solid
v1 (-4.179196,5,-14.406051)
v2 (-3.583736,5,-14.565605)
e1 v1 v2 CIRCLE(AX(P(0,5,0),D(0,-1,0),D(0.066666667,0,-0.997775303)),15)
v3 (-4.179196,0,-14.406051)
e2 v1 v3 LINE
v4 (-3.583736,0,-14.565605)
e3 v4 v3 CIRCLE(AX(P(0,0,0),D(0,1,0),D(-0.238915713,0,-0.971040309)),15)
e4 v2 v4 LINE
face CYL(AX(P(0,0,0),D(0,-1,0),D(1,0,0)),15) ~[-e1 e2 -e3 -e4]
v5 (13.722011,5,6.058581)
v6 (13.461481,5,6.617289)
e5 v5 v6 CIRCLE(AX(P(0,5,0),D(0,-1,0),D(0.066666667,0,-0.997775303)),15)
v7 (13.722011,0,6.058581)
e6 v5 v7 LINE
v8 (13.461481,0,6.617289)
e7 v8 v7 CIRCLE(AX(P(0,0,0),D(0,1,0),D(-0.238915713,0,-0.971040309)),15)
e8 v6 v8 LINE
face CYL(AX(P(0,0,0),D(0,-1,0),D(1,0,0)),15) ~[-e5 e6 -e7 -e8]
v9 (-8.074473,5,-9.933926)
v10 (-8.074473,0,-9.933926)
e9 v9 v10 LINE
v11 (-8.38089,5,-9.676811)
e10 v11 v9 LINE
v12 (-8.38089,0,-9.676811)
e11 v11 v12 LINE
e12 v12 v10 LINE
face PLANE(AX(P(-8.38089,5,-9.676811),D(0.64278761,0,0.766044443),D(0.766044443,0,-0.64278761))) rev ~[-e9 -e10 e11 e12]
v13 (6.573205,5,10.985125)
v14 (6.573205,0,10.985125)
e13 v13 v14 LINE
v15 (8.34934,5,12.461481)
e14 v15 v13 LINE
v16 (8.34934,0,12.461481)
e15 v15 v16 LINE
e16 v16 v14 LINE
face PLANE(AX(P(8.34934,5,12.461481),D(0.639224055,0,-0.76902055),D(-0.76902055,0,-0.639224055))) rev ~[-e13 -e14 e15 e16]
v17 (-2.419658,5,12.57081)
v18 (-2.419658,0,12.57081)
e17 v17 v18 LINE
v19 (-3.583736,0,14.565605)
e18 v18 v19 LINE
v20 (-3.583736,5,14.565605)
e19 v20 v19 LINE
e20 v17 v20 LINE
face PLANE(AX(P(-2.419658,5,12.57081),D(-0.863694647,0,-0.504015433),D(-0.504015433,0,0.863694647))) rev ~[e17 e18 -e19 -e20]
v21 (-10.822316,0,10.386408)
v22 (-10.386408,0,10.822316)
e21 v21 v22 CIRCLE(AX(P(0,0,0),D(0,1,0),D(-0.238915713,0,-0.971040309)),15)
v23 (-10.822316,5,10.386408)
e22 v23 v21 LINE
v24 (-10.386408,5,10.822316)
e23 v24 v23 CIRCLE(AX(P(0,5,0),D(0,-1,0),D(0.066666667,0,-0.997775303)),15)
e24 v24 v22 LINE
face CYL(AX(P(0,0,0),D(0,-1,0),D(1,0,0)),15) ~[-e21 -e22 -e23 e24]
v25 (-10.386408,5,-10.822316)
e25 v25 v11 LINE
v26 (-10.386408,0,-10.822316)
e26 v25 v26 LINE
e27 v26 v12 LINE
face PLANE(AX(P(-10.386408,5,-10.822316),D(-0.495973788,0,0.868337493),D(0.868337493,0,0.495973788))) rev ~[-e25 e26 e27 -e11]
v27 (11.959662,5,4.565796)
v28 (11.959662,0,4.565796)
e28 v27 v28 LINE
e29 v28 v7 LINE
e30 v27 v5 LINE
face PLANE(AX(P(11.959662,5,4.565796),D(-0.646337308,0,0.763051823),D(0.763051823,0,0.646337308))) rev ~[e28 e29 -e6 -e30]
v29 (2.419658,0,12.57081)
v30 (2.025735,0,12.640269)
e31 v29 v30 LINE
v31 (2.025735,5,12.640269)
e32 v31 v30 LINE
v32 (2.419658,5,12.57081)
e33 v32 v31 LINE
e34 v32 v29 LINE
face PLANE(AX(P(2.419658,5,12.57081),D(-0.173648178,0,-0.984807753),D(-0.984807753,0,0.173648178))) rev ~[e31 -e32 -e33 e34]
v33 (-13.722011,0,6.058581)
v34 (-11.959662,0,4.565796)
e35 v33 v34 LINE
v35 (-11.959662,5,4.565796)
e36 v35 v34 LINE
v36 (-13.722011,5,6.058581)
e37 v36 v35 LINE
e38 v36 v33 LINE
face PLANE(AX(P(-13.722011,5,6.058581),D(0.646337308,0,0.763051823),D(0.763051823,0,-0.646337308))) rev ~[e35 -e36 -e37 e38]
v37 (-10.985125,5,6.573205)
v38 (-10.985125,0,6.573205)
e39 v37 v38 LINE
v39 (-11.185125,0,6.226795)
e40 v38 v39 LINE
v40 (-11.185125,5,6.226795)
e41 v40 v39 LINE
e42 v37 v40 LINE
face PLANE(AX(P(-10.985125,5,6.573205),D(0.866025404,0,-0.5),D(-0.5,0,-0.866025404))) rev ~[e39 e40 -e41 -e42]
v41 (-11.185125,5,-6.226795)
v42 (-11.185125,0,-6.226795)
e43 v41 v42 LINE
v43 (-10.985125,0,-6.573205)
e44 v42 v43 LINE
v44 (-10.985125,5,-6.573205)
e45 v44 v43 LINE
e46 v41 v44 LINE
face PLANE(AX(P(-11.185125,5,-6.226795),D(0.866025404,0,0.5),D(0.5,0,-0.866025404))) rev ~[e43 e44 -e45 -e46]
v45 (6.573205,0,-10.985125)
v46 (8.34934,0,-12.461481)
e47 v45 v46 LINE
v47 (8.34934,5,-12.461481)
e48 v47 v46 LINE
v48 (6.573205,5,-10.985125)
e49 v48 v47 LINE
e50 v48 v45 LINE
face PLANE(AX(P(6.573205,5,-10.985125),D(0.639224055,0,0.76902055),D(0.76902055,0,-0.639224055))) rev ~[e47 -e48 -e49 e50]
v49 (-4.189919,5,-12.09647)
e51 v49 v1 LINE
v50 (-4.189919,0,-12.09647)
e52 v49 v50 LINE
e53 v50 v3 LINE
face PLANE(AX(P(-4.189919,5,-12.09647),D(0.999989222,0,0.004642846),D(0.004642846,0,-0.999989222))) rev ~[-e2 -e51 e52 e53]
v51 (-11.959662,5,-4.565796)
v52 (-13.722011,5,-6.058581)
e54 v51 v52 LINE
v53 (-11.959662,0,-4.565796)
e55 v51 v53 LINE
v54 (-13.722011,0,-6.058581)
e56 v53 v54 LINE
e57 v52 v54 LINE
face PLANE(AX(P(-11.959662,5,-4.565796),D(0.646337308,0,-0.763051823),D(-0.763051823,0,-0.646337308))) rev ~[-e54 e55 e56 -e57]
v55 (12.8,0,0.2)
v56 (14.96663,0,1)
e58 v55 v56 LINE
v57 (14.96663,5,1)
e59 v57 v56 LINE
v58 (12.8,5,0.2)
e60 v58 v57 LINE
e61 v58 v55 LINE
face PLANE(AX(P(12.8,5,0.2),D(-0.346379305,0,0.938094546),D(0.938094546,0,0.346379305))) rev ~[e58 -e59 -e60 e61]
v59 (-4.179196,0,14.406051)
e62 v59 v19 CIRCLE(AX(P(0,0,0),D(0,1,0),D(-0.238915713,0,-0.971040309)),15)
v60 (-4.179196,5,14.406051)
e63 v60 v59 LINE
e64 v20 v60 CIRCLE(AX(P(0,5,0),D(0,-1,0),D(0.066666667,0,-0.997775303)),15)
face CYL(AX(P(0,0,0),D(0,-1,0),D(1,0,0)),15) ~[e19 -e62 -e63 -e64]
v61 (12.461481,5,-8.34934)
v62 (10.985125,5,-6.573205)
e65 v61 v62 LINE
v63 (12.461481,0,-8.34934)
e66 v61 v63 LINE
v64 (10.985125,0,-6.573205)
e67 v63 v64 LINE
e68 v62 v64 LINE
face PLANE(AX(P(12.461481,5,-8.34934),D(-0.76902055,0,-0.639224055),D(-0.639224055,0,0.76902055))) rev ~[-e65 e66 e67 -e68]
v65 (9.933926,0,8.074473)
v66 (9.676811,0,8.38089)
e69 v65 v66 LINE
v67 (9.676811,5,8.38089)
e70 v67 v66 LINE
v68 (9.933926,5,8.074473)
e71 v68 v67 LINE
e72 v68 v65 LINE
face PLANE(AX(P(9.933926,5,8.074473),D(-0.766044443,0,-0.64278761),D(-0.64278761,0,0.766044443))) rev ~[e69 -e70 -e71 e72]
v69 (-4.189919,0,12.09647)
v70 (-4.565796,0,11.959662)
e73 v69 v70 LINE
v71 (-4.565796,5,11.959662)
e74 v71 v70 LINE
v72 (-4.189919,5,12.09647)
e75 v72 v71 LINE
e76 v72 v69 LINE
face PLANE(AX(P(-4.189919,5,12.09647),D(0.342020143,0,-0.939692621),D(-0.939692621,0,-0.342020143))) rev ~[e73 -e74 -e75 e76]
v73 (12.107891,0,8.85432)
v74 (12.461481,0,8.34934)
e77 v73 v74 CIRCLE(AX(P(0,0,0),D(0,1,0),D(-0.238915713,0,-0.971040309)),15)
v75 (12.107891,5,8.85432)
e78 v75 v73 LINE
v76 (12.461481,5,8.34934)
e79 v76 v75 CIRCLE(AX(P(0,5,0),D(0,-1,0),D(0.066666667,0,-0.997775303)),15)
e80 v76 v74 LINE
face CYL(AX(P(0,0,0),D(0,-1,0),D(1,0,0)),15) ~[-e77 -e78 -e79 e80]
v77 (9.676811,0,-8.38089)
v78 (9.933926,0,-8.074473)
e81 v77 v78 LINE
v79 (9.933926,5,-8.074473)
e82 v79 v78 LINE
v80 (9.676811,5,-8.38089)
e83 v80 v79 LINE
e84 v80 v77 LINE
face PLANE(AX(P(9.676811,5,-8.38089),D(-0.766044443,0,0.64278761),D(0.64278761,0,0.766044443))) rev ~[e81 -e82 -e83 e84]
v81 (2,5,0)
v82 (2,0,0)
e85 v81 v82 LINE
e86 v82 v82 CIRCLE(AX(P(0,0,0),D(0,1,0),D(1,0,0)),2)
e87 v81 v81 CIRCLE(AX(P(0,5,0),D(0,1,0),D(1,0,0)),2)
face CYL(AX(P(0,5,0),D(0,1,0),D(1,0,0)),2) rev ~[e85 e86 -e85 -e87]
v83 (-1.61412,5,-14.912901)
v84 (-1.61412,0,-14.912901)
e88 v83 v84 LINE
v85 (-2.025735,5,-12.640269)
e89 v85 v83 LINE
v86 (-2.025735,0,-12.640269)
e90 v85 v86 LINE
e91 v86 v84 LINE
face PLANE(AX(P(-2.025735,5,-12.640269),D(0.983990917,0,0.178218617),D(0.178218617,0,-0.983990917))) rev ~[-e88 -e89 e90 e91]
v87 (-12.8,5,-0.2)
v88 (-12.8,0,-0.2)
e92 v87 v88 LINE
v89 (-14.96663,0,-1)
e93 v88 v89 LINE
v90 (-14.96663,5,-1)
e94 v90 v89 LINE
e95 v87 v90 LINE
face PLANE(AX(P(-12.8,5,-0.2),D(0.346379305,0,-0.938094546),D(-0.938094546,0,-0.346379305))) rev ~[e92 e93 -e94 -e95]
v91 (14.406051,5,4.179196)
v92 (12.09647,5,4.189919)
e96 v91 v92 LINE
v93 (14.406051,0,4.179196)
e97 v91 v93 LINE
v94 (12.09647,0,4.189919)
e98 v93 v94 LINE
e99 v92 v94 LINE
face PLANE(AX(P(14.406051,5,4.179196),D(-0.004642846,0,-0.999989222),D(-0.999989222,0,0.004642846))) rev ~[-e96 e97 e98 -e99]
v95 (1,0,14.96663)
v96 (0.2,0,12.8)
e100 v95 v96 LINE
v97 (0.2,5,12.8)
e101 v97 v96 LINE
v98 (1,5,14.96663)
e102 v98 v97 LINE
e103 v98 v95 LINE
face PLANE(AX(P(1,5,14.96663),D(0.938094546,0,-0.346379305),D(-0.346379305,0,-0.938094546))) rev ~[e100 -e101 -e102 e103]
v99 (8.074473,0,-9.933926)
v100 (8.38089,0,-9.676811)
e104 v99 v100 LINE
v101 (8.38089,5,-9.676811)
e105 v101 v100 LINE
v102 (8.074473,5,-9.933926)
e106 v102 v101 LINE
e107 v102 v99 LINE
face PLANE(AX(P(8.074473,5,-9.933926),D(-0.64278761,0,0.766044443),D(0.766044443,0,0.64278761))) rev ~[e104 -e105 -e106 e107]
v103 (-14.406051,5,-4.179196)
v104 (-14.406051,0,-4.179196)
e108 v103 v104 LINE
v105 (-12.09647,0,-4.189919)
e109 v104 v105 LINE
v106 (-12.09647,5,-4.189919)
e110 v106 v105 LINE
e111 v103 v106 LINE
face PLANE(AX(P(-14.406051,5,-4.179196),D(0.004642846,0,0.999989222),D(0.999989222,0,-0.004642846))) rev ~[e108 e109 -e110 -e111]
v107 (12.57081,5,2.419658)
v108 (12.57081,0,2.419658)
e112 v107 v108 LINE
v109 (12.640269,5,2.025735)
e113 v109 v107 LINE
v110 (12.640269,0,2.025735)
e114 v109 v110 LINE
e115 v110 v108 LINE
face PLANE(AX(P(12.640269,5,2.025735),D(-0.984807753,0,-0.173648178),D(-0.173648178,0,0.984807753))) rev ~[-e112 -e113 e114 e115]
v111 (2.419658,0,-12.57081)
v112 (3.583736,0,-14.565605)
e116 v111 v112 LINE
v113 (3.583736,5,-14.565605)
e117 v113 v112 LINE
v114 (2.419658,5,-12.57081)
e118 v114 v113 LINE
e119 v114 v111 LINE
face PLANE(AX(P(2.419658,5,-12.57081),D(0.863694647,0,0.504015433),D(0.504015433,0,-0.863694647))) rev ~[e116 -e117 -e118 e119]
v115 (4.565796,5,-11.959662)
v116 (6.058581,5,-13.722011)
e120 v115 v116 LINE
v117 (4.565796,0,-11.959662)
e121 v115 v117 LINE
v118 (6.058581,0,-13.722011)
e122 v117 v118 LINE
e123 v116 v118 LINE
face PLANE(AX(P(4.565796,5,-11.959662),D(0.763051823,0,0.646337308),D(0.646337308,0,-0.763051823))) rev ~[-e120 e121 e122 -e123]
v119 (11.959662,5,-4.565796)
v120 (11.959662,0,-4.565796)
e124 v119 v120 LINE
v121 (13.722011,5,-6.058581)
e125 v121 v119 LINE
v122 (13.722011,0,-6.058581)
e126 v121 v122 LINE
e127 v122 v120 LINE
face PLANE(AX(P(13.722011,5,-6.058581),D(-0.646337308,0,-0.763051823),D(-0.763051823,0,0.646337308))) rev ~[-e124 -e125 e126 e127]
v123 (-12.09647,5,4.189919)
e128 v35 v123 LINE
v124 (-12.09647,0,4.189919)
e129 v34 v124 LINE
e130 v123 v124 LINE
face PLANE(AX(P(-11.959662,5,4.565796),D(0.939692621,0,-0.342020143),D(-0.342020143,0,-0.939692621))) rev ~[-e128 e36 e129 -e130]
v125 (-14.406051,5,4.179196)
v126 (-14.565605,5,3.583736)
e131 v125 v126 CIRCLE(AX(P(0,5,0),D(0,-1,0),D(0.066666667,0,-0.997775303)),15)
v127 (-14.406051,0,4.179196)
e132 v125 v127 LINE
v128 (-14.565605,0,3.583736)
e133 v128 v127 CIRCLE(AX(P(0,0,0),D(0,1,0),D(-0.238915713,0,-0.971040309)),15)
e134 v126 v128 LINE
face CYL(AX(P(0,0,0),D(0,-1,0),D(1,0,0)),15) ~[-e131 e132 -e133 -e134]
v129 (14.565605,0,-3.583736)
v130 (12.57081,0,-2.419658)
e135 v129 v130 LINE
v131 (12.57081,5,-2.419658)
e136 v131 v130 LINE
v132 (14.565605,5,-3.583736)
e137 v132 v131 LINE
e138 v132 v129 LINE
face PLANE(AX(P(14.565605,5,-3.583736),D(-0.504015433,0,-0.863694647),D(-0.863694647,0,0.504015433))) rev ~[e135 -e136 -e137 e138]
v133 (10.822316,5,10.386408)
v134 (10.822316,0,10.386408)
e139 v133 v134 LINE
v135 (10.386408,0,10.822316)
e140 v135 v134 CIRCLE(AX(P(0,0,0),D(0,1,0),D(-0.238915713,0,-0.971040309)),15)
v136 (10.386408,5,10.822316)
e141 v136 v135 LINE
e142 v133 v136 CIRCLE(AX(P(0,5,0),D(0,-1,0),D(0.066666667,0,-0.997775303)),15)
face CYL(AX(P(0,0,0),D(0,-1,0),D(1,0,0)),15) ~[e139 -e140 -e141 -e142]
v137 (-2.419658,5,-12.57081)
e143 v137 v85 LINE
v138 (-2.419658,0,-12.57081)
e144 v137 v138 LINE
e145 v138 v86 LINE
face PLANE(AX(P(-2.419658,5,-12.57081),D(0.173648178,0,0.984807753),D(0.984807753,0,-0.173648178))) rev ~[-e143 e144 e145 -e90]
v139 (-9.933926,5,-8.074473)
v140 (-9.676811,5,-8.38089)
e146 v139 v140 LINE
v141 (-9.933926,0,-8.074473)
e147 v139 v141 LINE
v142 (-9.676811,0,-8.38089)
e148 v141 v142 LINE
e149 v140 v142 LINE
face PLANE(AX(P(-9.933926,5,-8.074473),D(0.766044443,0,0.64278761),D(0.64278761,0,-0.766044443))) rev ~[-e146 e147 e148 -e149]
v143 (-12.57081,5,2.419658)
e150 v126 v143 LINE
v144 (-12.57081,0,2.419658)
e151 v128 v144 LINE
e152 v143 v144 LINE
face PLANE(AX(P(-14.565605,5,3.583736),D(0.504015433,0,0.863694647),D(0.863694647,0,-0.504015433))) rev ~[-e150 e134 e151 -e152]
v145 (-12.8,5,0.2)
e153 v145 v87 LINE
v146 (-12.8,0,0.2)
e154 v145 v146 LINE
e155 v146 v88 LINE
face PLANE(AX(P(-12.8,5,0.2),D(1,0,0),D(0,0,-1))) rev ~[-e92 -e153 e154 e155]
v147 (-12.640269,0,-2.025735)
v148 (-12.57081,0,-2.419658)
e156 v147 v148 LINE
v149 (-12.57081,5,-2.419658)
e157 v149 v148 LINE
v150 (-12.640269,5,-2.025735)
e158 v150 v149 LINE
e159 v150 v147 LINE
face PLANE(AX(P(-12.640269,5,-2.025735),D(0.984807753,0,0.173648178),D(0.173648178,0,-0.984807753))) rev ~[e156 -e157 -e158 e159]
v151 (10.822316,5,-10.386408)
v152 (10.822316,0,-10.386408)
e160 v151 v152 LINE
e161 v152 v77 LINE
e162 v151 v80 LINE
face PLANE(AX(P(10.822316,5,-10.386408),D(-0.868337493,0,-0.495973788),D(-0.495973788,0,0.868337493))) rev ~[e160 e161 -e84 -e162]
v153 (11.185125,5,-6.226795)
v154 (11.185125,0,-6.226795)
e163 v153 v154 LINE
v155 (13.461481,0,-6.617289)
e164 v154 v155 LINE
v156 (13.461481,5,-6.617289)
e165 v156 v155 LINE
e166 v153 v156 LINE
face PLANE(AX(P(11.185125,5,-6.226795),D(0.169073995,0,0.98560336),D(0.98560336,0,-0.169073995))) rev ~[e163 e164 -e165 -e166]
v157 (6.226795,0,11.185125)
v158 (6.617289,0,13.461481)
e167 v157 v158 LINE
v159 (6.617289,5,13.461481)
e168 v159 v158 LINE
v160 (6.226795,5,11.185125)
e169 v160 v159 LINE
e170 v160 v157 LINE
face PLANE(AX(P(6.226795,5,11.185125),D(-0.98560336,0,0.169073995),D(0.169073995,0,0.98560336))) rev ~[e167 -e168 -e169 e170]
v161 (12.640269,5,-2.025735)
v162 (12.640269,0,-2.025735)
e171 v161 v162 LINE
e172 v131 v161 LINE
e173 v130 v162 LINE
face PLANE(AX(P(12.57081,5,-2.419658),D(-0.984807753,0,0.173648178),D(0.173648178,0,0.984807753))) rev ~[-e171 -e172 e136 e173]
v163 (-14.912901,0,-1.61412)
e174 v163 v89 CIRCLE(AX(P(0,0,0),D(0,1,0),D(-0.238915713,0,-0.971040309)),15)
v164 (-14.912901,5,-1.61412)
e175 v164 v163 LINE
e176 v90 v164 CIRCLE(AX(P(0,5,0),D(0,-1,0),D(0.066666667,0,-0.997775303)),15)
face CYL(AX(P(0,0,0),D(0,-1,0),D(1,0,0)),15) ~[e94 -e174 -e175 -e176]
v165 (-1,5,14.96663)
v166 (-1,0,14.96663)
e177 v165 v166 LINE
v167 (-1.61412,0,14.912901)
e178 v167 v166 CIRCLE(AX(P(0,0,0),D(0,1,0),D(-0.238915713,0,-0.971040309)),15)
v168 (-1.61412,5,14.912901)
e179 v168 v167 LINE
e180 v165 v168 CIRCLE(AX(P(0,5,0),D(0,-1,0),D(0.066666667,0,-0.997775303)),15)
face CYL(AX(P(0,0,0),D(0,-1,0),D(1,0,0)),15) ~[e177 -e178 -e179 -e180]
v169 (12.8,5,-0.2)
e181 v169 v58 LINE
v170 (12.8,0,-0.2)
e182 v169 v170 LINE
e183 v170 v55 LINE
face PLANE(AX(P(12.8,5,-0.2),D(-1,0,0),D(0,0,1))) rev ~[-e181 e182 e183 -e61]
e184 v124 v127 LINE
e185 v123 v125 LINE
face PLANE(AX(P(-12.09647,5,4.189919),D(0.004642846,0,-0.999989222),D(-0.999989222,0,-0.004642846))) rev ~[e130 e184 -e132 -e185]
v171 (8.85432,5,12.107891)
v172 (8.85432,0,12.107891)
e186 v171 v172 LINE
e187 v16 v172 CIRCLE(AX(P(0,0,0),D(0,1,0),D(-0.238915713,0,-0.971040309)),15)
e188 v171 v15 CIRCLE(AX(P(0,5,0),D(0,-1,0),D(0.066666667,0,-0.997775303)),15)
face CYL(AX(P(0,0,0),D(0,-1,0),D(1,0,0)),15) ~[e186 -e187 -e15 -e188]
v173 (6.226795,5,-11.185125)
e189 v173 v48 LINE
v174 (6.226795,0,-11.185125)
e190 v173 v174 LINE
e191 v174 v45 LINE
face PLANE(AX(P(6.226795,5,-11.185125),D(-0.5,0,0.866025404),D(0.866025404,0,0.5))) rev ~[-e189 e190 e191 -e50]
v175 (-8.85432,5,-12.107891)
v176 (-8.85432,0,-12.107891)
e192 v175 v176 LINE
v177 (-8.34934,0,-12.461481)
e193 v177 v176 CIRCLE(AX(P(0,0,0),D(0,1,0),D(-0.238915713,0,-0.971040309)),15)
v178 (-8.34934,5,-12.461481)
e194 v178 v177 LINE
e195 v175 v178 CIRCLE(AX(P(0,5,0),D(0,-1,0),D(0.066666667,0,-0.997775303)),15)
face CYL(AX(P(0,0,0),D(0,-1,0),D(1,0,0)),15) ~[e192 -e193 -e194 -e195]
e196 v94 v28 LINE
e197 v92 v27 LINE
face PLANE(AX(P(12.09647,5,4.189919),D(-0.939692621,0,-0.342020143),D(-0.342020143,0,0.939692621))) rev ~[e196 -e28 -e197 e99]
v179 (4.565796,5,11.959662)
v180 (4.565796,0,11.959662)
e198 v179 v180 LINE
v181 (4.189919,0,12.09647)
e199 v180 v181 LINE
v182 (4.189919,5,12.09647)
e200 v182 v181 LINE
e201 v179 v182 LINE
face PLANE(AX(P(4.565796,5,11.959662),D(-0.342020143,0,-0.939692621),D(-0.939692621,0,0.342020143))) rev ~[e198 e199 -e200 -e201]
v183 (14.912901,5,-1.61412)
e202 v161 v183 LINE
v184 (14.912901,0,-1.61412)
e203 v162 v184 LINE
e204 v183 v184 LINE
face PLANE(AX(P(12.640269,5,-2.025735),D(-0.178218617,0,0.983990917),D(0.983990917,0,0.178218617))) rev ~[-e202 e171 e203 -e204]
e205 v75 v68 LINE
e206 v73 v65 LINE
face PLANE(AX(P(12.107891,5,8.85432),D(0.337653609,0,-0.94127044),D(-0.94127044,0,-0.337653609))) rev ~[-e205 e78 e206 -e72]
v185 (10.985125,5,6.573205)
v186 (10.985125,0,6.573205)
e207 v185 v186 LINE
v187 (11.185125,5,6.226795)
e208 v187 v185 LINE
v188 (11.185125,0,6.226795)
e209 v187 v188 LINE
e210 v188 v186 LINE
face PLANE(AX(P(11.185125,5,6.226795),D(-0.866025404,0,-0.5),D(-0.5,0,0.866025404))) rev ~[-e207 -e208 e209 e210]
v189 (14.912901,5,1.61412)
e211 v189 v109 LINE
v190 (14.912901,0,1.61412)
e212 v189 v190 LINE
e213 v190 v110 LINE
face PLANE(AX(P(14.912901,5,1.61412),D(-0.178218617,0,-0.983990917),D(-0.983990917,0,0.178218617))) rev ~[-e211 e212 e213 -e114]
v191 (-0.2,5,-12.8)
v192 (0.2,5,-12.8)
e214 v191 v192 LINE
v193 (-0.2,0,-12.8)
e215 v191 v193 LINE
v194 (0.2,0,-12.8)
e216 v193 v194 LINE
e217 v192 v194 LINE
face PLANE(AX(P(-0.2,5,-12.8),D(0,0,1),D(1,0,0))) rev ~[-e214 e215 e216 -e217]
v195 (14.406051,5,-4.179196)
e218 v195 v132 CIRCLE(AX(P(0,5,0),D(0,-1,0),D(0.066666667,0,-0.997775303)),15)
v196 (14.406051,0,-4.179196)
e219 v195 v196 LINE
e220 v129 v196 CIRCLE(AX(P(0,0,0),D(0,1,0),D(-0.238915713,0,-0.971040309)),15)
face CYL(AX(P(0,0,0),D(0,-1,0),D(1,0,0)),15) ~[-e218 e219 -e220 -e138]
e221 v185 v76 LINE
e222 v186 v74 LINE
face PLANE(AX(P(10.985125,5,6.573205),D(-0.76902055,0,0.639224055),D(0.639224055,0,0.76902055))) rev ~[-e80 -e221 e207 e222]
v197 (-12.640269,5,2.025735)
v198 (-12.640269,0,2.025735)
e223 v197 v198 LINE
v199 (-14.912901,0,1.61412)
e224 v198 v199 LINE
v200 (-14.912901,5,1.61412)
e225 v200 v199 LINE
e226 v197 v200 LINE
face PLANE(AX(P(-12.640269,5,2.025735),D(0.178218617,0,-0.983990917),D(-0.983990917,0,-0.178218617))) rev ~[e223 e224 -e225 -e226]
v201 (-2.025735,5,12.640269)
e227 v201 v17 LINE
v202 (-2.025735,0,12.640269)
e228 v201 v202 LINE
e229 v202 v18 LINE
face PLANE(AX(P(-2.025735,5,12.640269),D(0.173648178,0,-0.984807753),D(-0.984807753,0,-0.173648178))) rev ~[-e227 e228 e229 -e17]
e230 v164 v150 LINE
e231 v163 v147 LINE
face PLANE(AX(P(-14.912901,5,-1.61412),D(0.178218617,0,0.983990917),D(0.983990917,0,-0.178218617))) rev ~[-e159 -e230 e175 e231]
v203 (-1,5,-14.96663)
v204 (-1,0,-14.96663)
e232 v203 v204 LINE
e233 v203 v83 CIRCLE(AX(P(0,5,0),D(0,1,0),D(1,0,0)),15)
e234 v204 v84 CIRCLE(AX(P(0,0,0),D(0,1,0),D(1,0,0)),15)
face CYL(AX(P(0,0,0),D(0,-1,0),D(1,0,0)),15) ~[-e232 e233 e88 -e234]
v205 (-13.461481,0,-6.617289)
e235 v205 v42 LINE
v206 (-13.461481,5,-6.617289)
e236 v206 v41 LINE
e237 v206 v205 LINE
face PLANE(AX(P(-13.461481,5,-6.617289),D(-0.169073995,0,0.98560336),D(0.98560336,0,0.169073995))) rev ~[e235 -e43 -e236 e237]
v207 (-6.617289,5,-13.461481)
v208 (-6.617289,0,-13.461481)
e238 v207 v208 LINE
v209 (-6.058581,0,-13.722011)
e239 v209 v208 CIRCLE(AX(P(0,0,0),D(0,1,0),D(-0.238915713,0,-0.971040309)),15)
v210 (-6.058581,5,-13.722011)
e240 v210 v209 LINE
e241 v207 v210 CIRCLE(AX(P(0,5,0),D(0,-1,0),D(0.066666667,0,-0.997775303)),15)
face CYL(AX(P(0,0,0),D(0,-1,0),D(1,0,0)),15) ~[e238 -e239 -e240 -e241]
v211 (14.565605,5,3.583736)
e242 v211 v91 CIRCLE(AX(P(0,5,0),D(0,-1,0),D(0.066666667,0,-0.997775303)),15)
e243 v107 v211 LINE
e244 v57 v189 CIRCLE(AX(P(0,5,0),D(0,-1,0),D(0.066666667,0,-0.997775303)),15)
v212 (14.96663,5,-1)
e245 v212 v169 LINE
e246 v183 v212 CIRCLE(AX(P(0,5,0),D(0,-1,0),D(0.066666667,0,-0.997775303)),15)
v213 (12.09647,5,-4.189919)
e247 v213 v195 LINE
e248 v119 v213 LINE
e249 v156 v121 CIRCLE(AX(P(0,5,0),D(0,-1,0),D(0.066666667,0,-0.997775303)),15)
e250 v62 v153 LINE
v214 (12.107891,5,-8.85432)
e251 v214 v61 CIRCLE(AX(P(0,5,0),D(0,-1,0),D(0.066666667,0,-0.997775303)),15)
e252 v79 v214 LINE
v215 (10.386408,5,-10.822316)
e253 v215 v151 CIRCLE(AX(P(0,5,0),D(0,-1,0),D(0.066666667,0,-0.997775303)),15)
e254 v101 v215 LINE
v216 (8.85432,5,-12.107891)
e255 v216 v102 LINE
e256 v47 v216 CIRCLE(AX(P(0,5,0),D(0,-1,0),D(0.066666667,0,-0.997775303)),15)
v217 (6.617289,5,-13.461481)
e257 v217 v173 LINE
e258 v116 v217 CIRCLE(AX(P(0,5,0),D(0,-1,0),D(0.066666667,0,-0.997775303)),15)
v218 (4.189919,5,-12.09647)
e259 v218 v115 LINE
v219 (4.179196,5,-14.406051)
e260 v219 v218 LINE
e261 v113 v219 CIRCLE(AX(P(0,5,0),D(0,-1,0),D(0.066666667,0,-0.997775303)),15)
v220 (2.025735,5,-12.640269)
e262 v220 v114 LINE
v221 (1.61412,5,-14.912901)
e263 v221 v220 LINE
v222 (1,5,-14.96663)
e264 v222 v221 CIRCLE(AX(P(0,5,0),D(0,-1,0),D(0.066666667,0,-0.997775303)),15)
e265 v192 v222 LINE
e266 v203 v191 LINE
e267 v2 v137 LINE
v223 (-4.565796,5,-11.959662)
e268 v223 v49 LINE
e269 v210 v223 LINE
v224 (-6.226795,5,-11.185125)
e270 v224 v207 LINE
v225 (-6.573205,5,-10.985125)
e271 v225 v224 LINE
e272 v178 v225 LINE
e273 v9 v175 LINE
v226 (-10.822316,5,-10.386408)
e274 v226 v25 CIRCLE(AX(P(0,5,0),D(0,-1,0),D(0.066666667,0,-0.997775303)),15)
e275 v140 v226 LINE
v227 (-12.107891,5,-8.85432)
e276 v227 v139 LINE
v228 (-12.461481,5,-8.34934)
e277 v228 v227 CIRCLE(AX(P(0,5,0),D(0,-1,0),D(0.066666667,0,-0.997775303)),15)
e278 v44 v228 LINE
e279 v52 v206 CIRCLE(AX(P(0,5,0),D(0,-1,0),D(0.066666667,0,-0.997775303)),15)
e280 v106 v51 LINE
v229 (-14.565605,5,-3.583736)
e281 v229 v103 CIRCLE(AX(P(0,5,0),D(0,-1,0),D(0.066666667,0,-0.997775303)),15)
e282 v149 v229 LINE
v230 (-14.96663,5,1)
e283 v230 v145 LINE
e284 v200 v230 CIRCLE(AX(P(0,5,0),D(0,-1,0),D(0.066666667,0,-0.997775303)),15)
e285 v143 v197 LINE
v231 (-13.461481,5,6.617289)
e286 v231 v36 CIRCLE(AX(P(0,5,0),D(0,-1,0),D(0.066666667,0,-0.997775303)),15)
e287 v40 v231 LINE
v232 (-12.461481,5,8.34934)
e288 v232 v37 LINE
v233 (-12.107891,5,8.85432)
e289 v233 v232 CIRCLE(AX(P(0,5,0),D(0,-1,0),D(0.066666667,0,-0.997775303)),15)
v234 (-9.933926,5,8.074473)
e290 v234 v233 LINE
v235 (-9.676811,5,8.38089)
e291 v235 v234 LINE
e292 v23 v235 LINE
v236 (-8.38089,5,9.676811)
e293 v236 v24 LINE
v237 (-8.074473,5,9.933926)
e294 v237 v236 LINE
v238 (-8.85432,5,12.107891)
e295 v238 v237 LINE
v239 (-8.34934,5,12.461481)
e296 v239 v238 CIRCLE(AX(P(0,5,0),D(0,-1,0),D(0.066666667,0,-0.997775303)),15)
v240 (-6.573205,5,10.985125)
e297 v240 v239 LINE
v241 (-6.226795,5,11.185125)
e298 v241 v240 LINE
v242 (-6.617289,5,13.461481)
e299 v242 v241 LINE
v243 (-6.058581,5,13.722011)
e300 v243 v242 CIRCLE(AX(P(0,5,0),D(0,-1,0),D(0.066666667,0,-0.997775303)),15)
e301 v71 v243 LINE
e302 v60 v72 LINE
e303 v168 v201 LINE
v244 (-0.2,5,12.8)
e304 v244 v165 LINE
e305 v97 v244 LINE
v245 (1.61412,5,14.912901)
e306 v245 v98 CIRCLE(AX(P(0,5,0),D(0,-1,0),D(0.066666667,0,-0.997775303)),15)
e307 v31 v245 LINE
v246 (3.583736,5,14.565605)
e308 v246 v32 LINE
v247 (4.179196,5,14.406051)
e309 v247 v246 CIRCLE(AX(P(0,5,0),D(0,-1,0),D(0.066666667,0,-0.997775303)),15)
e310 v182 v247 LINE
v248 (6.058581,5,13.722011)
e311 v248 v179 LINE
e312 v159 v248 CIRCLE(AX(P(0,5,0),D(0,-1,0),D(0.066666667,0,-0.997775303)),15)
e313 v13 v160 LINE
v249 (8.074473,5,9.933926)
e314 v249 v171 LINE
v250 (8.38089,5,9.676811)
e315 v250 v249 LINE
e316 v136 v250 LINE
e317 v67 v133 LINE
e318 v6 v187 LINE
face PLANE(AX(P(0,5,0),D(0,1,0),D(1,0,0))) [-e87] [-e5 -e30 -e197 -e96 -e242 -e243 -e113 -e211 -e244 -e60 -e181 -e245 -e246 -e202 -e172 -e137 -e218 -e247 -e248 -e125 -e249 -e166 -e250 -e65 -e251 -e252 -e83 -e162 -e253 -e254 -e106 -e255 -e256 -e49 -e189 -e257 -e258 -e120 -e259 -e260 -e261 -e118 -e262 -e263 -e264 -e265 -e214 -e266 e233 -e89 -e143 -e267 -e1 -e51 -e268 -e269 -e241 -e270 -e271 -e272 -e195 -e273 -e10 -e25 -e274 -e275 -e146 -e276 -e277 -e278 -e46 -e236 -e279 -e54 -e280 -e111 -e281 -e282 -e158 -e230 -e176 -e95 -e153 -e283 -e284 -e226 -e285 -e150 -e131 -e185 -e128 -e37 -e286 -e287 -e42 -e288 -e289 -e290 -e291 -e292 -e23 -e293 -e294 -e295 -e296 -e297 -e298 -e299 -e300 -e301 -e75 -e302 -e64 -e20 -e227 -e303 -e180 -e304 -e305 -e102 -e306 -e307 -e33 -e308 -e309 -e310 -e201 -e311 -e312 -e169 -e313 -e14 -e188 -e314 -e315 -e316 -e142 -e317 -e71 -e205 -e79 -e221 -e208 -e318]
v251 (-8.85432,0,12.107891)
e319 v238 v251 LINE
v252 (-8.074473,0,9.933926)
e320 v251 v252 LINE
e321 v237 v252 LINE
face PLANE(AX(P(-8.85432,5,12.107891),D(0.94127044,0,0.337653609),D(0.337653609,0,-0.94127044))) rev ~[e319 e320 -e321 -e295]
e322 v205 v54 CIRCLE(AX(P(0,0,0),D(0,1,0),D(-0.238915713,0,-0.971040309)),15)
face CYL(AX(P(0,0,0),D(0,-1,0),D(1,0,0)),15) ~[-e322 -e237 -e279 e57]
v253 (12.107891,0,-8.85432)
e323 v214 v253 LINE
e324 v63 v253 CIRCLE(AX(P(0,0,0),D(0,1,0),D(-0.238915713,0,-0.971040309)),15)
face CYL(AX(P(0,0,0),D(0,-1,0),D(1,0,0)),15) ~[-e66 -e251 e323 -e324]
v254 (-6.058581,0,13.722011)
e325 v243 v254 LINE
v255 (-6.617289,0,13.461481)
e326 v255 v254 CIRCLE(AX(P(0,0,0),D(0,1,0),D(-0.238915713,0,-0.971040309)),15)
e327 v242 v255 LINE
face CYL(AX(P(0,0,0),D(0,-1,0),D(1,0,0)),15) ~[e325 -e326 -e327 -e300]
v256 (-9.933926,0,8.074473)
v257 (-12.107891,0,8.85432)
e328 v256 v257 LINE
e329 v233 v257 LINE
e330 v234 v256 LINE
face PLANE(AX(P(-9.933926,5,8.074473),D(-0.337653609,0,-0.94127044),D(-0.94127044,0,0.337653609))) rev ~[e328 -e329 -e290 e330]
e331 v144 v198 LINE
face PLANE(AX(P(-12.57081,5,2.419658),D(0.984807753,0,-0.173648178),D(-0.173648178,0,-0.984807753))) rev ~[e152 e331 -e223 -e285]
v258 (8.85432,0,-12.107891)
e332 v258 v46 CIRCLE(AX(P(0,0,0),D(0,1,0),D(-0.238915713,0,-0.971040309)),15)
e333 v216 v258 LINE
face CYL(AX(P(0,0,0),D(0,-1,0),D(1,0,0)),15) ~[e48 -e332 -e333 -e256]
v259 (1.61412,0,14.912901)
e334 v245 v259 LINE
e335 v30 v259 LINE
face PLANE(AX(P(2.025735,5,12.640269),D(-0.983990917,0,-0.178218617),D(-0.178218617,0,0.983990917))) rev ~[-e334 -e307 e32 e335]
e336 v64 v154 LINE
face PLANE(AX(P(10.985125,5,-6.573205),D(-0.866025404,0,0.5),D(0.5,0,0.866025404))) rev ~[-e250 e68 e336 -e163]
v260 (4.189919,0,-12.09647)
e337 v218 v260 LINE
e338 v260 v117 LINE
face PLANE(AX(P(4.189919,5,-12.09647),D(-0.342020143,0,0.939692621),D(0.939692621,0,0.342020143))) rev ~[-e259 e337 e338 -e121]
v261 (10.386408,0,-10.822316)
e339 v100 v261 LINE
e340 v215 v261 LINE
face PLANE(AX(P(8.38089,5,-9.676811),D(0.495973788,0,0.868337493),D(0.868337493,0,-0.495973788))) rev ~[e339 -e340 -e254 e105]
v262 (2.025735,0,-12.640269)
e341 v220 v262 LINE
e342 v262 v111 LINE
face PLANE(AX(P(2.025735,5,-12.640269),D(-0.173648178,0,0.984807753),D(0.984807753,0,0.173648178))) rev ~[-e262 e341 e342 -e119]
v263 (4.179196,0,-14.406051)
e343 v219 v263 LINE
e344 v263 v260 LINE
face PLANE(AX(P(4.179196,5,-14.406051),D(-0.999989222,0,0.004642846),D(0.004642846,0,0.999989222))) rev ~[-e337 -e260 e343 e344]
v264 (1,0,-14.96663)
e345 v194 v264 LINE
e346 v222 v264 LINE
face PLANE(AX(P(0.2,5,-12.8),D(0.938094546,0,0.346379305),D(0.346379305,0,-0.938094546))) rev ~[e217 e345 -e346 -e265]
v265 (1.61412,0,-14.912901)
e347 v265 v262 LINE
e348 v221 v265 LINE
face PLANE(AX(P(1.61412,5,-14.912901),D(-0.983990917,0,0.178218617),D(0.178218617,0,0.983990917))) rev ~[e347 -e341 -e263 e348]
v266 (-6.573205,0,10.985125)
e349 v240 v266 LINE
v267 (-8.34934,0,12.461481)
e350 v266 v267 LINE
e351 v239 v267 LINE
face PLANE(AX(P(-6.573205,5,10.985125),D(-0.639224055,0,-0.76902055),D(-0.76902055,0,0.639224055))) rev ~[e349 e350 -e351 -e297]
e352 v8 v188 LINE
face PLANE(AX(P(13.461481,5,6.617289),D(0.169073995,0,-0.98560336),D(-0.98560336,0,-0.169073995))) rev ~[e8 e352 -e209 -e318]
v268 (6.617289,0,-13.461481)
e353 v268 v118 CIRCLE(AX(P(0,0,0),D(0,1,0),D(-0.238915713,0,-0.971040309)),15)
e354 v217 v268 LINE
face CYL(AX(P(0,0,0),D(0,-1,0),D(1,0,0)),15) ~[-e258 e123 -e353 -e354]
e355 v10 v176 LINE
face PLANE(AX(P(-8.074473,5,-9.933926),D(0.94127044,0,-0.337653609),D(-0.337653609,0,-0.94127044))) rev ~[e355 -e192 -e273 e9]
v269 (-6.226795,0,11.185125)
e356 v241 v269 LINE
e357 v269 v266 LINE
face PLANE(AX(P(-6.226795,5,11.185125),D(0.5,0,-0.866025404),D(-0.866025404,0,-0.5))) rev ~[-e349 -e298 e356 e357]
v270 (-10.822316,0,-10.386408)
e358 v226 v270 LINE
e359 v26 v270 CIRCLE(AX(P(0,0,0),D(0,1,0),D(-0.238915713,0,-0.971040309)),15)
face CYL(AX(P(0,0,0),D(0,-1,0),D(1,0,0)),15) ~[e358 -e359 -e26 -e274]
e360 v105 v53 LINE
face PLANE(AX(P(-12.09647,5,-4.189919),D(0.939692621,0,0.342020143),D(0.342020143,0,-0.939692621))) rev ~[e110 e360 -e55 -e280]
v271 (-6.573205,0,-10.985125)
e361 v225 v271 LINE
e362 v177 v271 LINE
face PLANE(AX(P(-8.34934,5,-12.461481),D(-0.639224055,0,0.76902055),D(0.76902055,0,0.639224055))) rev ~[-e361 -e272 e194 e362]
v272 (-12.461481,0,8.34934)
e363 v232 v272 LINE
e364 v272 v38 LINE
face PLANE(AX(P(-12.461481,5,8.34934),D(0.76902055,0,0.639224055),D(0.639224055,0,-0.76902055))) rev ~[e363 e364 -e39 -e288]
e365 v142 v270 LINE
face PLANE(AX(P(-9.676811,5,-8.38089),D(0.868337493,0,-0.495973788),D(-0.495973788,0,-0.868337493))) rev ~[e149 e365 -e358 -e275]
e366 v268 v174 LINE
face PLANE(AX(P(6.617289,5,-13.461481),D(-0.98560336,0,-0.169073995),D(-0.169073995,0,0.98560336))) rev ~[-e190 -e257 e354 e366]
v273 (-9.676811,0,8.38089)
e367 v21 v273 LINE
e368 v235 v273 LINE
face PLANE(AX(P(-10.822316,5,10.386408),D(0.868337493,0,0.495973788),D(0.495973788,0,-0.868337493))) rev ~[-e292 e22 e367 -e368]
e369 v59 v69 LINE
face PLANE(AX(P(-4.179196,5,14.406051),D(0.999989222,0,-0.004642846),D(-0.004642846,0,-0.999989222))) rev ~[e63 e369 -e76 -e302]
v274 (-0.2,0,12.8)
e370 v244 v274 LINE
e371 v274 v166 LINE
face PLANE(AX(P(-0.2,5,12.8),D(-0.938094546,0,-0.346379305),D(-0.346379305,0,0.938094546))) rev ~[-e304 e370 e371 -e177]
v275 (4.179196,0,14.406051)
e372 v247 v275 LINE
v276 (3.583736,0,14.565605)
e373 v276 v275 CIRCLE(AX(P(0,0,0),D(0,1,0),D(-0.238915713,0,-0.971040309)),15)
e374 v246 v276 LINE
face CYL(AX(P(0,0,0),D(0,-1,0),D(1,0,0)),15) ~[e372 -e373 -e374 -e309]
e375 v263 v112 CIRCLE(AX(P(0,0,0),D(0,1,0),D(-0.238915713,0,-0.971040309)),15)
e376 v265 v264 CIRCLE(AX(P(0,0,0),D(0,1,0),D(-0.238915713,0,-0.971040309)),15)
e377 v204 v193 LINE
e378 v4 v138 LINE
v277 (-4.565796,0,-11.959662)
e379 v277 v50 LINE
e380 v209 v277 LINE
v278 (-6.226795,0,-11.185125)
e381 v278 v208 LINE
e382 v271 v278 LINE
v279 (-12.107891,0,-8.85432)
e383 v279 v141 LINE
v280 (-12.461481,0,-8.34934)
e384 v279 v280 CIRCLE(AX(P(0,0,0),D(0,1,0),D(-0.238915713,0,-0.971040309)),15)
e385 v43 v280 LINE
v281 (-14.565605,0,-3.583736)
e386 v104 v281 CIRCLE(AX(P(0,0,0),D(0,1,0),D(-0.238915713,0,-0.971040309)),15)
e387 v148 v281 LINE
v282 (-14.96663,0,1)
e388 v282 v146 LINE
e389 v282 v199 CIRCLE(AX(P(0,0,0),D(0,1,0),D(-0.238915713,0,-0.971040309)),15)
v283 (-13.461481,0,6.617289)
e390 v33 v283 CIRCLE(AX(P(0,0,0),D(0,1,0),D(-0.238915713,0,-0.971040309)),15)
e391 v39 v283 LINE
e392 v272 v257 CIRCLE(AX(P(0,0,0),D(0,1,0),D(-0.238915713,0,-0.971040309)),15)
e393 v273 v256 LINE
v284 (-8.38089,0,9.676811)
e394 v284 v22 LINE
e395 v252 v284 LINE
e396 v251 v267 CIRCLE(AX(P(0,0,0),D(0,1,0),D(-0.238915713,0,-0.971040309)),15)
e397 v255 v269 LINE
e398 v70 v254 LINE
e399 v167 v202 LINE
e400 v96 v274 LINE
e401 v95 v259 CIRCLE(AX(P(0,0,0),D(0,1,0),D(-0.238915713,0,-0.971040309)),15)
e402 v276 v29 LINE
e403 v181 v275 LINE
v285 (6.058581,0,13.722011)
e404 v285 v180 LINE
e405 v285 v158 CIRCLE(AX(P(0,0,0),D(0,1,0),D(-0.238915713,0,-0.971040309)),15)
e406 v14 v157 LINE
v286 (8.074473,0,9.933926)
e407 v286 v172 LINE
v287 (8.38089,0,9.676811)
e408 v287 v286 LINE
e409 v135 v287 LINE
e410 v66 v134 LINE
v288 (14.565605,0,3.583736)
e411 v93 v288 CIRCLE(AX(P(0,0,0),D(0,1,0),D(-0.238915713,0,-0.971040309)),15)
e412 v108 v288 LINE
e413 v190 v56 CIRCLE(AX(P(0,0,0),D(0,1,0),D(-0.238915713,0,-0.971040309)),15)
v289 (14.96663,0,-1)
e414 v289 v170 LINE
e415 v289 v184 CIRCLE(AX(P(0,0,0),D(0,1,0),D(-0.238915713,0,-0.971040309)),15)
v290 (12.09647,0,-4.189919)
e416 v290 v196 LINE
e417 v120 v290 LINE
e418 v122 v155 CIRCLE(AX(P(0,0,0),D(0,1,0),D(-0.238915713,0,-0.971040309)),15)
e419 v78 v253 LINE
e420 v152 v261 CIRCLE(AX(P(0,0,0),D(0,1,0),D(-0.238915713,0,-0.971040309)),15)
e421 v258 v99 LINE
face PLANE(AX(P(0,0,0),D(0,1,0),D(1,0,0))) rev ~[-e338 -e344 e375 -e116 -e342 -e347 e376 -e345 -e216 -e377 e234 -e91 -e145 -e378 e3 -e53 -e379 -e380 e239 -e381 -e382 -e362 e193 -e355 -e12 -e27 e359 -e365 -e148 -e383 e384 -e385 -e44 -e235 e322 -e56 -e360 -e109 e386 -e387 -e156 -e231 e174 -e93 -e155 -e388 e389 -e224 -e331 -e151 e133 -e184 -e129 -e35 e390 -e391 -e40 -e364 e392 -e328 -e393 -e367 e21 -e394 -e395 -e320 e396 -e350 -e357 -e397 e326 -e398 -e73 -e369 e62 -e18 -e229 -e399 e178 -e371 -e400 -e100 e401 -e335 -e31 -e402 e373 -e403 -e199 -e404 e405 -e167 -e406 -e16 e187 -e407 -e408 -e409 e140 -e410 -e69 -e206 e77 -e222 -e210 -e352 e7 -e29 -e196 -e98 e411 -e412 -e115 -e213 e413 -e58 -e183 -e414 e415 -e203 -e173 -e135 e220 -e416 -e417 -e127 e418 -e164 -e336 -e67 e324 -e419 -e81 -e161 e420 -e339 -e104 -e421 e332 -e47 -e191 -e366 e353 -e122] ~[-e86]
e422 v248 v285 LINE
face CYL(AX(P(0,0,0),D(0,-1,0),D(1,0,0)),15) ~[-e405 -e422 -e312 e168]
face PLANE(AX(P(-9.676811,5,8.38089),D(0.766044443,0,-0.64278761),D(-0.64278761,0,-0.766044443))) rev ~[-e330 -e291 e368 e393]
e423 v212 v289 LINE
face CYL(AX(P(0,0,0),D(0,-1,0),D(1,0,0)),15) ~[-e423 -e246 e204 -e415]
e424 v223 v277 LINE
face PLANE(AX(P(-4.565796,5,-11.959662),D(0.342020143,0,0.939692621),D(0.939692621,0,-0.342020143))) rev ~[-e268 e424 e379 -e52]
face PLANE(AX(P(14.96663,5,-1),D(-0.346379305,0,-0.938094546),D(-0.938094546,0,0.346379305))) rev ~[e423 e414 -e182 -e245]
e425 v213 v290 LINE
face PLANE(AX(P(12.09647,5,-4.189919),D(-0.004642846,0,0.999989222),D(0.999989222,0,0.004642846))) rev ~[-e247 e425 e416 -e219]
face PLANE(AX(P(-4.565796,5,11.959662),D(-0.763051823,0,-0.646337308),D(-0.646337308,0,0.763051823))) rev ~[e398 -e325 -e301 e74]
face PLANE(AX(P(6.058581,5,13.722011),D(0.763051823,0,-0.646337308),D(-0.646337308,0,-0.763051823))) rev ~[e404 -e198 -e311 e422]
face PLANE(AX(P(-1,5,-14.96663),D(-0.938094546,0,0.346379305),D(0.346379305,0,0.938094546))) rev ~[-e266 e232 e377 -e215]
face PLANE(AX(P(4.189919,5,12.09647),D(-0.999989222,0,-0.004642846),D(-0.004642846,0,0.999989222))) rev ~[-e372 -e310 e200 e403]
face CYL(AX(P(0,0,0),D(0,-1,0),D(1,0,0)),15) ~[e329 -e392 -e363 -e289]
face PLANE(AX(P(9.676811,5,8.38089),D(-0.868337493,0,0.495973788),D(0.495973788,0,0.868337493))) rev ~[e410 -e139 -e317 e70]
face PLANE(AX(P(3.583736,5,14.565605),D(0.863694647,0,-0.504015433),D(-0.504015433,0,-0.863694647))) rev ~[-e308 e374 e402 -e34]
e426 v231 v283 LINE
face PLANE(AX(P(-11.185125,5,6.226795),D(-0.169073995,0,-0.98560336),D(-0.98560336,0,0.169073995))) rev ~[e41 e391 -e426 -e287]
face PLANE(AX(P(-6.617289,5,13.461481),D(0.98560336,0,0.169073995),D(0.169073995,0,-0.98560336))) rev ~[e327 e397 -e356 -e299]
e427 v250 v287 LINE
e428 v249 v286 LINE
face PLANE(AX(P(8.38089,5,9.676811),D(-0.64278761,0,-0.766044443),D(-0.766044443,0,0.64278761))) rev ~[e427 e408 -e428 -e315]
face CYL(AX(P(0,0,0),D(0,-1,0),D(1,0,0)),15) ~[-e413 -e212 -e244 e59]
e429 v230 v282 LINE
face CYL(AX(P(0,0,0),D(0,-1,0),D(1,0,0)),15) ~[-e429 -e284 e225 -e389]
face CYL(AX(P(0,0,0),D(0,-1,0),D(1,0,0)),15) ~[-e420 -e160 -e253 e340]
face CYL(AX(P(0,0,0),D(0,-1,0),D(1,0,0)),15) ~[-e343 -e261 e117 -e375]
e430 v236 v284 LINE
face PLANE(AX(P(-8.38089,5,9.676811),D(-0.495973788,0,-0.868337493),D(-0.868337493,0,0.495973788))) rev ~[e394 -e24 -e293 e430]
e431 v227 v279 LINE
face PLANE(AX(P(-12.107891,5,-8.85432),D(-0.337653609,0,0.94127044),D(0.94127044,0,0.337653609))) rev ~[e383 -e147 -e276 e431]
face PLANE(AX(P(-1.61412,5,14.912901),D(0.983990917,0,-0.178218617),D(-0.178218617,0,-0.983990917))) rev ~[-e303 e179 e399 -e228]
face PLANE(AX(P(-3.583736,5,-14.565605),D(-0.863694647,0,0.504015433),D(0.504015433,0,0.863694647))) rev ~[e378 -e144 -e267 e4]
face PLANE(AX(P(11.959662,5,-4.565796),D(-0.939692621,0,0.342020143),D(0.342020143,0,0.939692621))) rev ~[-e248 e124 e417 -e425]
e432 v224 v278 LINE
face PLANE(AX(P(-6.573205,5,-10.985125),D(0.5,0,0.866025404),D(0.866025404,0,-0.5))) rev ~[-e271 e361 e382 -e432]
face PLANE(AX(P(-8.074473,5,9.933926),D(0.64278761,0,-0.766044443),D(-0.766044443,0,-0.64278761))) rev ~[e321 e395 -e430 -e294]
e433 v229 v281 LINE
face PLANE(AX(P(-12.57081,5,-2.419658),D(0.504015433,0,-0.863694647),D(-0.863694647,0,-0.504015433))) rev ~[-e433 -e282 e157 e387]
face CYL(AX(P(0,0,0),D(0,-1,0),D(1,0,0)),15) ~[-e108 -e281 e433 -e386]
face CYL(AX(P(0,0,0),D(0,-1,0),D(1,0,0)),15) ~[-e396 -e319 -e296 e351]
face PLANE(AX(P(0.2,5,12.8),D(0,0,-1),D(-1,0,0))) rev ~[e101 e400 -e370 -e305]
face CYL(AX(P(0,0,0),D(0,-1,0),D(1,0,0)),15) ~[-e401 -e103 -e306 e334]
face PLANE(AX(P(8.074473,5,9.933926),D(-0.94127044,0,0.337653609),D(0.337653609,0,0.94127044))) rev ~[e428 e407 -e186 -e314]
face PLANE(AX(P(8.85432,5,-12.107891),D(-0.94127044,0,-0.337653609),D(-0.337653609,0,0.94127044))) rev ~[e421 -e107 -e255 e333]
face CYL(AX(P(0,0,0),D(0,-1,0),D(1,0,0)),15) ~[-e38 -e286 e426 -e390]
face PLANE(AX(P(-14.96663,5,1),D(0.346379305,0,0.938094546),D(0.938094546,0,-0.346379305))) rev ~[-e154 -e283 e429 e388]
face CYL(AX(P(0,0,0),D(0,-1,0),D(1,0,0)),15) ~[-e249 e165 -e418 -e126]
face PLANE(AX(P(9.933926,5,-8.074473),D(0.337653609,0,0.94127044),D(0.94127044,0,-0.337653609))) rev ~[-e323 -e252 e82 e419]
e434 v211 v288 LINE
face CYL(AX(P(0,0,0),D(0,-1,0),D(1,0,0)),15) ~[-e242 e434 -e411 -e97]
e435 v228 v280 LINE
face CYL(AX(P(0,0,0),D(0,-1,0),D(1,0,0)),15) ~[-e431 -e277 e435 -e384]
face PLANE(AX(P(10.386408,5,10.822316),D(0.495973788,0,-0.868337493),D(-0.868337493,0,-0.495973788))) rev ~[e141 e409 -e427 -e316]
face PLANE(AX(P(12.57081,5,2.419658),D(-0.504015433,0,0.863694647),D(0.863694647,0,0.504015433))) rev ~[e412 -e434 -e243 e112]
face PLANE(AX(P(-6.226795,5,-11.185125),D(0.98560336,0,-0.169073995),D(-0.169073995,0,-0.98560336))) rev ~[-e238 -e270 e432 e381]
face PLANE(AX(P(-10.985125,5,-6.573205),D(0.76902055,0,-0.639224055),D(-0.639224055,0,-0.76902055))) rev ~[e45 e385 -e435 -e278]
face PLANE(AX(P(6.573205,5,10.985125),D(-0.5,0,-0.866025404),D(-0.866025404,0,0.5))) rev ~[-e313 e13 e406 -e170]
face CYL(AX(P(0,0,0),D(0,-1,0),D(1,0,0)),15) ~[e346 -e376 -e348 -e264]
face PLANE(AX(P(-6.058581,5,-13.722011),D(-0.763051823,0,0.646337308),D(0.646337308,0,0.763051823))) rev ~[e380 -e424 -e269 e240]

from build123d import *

# Parameters (mm, degrees)
SKETCH1_R           = 15
BOSS_EXTRUDE1_DEPTH = 5
SKETCH2_R           = 2
CUT_EXTRUDE1_DEPTH  = 6
CUT_EXTRUDE2_DEPTH  = 10
CIRPATTERN1_COUNT   = 36


with BuildPart() as part:
    # Sketch1 → Boss-Extrude1 (new body)
    with BuildSketch(Plane(origin=(0, 0, 0), x_dir=(1, 0, 0), z_dir=(0, 1, 0))):
        Circle(SKETCH1_R)
    extrude(amount=BOSS_EXTRUDE1_DEPTH)

    # Sketch2 → Cut-Extrude1 (cut, through all)
    with BuildSketch(Plane(origin=(0, 5, 0), x_dir=(1, 0, 0), z_dir=(0, 1, 0))):
        Circle(SKETCH2_R)
    extrude(amount=-CUT_EXTRUDE1_DEPTH, mode=Mode.SUBTRACT)

    # Sketch3 → Cut-Extrude2 (cut)
    with BuildSketch(Plane(origin=(0, 5, 0), x_dir=(1, 0, 0), z_dir=(0, 1, 0))):
        Polygon((0, 12.8), (0.2, 12.8), (1, 14.966629547), (1, 18.114701451), (-1, 18.114701451), (-1, 14.966629547), (-0.2, 12.8), align=None)
    cut_extrude2 = extrude(amount=-CUT_EXTRUDE2_DEPTH, mode=Mode.SUBTRACT)

    # CirPattern1: Cut-Extrude2 ×36 about axis
    cirpattern1_axis = Axis((0, 0, 0), (0, 1, 0))
    for i in range(1, CIRPATTERN1_COUNT):
        add(cut_extrude2.rotate(cirpattern1_axis, i * 360 / CIRPATTERN1_COUNT), mode=Mode.SUBTRACT)


solid = part.part
